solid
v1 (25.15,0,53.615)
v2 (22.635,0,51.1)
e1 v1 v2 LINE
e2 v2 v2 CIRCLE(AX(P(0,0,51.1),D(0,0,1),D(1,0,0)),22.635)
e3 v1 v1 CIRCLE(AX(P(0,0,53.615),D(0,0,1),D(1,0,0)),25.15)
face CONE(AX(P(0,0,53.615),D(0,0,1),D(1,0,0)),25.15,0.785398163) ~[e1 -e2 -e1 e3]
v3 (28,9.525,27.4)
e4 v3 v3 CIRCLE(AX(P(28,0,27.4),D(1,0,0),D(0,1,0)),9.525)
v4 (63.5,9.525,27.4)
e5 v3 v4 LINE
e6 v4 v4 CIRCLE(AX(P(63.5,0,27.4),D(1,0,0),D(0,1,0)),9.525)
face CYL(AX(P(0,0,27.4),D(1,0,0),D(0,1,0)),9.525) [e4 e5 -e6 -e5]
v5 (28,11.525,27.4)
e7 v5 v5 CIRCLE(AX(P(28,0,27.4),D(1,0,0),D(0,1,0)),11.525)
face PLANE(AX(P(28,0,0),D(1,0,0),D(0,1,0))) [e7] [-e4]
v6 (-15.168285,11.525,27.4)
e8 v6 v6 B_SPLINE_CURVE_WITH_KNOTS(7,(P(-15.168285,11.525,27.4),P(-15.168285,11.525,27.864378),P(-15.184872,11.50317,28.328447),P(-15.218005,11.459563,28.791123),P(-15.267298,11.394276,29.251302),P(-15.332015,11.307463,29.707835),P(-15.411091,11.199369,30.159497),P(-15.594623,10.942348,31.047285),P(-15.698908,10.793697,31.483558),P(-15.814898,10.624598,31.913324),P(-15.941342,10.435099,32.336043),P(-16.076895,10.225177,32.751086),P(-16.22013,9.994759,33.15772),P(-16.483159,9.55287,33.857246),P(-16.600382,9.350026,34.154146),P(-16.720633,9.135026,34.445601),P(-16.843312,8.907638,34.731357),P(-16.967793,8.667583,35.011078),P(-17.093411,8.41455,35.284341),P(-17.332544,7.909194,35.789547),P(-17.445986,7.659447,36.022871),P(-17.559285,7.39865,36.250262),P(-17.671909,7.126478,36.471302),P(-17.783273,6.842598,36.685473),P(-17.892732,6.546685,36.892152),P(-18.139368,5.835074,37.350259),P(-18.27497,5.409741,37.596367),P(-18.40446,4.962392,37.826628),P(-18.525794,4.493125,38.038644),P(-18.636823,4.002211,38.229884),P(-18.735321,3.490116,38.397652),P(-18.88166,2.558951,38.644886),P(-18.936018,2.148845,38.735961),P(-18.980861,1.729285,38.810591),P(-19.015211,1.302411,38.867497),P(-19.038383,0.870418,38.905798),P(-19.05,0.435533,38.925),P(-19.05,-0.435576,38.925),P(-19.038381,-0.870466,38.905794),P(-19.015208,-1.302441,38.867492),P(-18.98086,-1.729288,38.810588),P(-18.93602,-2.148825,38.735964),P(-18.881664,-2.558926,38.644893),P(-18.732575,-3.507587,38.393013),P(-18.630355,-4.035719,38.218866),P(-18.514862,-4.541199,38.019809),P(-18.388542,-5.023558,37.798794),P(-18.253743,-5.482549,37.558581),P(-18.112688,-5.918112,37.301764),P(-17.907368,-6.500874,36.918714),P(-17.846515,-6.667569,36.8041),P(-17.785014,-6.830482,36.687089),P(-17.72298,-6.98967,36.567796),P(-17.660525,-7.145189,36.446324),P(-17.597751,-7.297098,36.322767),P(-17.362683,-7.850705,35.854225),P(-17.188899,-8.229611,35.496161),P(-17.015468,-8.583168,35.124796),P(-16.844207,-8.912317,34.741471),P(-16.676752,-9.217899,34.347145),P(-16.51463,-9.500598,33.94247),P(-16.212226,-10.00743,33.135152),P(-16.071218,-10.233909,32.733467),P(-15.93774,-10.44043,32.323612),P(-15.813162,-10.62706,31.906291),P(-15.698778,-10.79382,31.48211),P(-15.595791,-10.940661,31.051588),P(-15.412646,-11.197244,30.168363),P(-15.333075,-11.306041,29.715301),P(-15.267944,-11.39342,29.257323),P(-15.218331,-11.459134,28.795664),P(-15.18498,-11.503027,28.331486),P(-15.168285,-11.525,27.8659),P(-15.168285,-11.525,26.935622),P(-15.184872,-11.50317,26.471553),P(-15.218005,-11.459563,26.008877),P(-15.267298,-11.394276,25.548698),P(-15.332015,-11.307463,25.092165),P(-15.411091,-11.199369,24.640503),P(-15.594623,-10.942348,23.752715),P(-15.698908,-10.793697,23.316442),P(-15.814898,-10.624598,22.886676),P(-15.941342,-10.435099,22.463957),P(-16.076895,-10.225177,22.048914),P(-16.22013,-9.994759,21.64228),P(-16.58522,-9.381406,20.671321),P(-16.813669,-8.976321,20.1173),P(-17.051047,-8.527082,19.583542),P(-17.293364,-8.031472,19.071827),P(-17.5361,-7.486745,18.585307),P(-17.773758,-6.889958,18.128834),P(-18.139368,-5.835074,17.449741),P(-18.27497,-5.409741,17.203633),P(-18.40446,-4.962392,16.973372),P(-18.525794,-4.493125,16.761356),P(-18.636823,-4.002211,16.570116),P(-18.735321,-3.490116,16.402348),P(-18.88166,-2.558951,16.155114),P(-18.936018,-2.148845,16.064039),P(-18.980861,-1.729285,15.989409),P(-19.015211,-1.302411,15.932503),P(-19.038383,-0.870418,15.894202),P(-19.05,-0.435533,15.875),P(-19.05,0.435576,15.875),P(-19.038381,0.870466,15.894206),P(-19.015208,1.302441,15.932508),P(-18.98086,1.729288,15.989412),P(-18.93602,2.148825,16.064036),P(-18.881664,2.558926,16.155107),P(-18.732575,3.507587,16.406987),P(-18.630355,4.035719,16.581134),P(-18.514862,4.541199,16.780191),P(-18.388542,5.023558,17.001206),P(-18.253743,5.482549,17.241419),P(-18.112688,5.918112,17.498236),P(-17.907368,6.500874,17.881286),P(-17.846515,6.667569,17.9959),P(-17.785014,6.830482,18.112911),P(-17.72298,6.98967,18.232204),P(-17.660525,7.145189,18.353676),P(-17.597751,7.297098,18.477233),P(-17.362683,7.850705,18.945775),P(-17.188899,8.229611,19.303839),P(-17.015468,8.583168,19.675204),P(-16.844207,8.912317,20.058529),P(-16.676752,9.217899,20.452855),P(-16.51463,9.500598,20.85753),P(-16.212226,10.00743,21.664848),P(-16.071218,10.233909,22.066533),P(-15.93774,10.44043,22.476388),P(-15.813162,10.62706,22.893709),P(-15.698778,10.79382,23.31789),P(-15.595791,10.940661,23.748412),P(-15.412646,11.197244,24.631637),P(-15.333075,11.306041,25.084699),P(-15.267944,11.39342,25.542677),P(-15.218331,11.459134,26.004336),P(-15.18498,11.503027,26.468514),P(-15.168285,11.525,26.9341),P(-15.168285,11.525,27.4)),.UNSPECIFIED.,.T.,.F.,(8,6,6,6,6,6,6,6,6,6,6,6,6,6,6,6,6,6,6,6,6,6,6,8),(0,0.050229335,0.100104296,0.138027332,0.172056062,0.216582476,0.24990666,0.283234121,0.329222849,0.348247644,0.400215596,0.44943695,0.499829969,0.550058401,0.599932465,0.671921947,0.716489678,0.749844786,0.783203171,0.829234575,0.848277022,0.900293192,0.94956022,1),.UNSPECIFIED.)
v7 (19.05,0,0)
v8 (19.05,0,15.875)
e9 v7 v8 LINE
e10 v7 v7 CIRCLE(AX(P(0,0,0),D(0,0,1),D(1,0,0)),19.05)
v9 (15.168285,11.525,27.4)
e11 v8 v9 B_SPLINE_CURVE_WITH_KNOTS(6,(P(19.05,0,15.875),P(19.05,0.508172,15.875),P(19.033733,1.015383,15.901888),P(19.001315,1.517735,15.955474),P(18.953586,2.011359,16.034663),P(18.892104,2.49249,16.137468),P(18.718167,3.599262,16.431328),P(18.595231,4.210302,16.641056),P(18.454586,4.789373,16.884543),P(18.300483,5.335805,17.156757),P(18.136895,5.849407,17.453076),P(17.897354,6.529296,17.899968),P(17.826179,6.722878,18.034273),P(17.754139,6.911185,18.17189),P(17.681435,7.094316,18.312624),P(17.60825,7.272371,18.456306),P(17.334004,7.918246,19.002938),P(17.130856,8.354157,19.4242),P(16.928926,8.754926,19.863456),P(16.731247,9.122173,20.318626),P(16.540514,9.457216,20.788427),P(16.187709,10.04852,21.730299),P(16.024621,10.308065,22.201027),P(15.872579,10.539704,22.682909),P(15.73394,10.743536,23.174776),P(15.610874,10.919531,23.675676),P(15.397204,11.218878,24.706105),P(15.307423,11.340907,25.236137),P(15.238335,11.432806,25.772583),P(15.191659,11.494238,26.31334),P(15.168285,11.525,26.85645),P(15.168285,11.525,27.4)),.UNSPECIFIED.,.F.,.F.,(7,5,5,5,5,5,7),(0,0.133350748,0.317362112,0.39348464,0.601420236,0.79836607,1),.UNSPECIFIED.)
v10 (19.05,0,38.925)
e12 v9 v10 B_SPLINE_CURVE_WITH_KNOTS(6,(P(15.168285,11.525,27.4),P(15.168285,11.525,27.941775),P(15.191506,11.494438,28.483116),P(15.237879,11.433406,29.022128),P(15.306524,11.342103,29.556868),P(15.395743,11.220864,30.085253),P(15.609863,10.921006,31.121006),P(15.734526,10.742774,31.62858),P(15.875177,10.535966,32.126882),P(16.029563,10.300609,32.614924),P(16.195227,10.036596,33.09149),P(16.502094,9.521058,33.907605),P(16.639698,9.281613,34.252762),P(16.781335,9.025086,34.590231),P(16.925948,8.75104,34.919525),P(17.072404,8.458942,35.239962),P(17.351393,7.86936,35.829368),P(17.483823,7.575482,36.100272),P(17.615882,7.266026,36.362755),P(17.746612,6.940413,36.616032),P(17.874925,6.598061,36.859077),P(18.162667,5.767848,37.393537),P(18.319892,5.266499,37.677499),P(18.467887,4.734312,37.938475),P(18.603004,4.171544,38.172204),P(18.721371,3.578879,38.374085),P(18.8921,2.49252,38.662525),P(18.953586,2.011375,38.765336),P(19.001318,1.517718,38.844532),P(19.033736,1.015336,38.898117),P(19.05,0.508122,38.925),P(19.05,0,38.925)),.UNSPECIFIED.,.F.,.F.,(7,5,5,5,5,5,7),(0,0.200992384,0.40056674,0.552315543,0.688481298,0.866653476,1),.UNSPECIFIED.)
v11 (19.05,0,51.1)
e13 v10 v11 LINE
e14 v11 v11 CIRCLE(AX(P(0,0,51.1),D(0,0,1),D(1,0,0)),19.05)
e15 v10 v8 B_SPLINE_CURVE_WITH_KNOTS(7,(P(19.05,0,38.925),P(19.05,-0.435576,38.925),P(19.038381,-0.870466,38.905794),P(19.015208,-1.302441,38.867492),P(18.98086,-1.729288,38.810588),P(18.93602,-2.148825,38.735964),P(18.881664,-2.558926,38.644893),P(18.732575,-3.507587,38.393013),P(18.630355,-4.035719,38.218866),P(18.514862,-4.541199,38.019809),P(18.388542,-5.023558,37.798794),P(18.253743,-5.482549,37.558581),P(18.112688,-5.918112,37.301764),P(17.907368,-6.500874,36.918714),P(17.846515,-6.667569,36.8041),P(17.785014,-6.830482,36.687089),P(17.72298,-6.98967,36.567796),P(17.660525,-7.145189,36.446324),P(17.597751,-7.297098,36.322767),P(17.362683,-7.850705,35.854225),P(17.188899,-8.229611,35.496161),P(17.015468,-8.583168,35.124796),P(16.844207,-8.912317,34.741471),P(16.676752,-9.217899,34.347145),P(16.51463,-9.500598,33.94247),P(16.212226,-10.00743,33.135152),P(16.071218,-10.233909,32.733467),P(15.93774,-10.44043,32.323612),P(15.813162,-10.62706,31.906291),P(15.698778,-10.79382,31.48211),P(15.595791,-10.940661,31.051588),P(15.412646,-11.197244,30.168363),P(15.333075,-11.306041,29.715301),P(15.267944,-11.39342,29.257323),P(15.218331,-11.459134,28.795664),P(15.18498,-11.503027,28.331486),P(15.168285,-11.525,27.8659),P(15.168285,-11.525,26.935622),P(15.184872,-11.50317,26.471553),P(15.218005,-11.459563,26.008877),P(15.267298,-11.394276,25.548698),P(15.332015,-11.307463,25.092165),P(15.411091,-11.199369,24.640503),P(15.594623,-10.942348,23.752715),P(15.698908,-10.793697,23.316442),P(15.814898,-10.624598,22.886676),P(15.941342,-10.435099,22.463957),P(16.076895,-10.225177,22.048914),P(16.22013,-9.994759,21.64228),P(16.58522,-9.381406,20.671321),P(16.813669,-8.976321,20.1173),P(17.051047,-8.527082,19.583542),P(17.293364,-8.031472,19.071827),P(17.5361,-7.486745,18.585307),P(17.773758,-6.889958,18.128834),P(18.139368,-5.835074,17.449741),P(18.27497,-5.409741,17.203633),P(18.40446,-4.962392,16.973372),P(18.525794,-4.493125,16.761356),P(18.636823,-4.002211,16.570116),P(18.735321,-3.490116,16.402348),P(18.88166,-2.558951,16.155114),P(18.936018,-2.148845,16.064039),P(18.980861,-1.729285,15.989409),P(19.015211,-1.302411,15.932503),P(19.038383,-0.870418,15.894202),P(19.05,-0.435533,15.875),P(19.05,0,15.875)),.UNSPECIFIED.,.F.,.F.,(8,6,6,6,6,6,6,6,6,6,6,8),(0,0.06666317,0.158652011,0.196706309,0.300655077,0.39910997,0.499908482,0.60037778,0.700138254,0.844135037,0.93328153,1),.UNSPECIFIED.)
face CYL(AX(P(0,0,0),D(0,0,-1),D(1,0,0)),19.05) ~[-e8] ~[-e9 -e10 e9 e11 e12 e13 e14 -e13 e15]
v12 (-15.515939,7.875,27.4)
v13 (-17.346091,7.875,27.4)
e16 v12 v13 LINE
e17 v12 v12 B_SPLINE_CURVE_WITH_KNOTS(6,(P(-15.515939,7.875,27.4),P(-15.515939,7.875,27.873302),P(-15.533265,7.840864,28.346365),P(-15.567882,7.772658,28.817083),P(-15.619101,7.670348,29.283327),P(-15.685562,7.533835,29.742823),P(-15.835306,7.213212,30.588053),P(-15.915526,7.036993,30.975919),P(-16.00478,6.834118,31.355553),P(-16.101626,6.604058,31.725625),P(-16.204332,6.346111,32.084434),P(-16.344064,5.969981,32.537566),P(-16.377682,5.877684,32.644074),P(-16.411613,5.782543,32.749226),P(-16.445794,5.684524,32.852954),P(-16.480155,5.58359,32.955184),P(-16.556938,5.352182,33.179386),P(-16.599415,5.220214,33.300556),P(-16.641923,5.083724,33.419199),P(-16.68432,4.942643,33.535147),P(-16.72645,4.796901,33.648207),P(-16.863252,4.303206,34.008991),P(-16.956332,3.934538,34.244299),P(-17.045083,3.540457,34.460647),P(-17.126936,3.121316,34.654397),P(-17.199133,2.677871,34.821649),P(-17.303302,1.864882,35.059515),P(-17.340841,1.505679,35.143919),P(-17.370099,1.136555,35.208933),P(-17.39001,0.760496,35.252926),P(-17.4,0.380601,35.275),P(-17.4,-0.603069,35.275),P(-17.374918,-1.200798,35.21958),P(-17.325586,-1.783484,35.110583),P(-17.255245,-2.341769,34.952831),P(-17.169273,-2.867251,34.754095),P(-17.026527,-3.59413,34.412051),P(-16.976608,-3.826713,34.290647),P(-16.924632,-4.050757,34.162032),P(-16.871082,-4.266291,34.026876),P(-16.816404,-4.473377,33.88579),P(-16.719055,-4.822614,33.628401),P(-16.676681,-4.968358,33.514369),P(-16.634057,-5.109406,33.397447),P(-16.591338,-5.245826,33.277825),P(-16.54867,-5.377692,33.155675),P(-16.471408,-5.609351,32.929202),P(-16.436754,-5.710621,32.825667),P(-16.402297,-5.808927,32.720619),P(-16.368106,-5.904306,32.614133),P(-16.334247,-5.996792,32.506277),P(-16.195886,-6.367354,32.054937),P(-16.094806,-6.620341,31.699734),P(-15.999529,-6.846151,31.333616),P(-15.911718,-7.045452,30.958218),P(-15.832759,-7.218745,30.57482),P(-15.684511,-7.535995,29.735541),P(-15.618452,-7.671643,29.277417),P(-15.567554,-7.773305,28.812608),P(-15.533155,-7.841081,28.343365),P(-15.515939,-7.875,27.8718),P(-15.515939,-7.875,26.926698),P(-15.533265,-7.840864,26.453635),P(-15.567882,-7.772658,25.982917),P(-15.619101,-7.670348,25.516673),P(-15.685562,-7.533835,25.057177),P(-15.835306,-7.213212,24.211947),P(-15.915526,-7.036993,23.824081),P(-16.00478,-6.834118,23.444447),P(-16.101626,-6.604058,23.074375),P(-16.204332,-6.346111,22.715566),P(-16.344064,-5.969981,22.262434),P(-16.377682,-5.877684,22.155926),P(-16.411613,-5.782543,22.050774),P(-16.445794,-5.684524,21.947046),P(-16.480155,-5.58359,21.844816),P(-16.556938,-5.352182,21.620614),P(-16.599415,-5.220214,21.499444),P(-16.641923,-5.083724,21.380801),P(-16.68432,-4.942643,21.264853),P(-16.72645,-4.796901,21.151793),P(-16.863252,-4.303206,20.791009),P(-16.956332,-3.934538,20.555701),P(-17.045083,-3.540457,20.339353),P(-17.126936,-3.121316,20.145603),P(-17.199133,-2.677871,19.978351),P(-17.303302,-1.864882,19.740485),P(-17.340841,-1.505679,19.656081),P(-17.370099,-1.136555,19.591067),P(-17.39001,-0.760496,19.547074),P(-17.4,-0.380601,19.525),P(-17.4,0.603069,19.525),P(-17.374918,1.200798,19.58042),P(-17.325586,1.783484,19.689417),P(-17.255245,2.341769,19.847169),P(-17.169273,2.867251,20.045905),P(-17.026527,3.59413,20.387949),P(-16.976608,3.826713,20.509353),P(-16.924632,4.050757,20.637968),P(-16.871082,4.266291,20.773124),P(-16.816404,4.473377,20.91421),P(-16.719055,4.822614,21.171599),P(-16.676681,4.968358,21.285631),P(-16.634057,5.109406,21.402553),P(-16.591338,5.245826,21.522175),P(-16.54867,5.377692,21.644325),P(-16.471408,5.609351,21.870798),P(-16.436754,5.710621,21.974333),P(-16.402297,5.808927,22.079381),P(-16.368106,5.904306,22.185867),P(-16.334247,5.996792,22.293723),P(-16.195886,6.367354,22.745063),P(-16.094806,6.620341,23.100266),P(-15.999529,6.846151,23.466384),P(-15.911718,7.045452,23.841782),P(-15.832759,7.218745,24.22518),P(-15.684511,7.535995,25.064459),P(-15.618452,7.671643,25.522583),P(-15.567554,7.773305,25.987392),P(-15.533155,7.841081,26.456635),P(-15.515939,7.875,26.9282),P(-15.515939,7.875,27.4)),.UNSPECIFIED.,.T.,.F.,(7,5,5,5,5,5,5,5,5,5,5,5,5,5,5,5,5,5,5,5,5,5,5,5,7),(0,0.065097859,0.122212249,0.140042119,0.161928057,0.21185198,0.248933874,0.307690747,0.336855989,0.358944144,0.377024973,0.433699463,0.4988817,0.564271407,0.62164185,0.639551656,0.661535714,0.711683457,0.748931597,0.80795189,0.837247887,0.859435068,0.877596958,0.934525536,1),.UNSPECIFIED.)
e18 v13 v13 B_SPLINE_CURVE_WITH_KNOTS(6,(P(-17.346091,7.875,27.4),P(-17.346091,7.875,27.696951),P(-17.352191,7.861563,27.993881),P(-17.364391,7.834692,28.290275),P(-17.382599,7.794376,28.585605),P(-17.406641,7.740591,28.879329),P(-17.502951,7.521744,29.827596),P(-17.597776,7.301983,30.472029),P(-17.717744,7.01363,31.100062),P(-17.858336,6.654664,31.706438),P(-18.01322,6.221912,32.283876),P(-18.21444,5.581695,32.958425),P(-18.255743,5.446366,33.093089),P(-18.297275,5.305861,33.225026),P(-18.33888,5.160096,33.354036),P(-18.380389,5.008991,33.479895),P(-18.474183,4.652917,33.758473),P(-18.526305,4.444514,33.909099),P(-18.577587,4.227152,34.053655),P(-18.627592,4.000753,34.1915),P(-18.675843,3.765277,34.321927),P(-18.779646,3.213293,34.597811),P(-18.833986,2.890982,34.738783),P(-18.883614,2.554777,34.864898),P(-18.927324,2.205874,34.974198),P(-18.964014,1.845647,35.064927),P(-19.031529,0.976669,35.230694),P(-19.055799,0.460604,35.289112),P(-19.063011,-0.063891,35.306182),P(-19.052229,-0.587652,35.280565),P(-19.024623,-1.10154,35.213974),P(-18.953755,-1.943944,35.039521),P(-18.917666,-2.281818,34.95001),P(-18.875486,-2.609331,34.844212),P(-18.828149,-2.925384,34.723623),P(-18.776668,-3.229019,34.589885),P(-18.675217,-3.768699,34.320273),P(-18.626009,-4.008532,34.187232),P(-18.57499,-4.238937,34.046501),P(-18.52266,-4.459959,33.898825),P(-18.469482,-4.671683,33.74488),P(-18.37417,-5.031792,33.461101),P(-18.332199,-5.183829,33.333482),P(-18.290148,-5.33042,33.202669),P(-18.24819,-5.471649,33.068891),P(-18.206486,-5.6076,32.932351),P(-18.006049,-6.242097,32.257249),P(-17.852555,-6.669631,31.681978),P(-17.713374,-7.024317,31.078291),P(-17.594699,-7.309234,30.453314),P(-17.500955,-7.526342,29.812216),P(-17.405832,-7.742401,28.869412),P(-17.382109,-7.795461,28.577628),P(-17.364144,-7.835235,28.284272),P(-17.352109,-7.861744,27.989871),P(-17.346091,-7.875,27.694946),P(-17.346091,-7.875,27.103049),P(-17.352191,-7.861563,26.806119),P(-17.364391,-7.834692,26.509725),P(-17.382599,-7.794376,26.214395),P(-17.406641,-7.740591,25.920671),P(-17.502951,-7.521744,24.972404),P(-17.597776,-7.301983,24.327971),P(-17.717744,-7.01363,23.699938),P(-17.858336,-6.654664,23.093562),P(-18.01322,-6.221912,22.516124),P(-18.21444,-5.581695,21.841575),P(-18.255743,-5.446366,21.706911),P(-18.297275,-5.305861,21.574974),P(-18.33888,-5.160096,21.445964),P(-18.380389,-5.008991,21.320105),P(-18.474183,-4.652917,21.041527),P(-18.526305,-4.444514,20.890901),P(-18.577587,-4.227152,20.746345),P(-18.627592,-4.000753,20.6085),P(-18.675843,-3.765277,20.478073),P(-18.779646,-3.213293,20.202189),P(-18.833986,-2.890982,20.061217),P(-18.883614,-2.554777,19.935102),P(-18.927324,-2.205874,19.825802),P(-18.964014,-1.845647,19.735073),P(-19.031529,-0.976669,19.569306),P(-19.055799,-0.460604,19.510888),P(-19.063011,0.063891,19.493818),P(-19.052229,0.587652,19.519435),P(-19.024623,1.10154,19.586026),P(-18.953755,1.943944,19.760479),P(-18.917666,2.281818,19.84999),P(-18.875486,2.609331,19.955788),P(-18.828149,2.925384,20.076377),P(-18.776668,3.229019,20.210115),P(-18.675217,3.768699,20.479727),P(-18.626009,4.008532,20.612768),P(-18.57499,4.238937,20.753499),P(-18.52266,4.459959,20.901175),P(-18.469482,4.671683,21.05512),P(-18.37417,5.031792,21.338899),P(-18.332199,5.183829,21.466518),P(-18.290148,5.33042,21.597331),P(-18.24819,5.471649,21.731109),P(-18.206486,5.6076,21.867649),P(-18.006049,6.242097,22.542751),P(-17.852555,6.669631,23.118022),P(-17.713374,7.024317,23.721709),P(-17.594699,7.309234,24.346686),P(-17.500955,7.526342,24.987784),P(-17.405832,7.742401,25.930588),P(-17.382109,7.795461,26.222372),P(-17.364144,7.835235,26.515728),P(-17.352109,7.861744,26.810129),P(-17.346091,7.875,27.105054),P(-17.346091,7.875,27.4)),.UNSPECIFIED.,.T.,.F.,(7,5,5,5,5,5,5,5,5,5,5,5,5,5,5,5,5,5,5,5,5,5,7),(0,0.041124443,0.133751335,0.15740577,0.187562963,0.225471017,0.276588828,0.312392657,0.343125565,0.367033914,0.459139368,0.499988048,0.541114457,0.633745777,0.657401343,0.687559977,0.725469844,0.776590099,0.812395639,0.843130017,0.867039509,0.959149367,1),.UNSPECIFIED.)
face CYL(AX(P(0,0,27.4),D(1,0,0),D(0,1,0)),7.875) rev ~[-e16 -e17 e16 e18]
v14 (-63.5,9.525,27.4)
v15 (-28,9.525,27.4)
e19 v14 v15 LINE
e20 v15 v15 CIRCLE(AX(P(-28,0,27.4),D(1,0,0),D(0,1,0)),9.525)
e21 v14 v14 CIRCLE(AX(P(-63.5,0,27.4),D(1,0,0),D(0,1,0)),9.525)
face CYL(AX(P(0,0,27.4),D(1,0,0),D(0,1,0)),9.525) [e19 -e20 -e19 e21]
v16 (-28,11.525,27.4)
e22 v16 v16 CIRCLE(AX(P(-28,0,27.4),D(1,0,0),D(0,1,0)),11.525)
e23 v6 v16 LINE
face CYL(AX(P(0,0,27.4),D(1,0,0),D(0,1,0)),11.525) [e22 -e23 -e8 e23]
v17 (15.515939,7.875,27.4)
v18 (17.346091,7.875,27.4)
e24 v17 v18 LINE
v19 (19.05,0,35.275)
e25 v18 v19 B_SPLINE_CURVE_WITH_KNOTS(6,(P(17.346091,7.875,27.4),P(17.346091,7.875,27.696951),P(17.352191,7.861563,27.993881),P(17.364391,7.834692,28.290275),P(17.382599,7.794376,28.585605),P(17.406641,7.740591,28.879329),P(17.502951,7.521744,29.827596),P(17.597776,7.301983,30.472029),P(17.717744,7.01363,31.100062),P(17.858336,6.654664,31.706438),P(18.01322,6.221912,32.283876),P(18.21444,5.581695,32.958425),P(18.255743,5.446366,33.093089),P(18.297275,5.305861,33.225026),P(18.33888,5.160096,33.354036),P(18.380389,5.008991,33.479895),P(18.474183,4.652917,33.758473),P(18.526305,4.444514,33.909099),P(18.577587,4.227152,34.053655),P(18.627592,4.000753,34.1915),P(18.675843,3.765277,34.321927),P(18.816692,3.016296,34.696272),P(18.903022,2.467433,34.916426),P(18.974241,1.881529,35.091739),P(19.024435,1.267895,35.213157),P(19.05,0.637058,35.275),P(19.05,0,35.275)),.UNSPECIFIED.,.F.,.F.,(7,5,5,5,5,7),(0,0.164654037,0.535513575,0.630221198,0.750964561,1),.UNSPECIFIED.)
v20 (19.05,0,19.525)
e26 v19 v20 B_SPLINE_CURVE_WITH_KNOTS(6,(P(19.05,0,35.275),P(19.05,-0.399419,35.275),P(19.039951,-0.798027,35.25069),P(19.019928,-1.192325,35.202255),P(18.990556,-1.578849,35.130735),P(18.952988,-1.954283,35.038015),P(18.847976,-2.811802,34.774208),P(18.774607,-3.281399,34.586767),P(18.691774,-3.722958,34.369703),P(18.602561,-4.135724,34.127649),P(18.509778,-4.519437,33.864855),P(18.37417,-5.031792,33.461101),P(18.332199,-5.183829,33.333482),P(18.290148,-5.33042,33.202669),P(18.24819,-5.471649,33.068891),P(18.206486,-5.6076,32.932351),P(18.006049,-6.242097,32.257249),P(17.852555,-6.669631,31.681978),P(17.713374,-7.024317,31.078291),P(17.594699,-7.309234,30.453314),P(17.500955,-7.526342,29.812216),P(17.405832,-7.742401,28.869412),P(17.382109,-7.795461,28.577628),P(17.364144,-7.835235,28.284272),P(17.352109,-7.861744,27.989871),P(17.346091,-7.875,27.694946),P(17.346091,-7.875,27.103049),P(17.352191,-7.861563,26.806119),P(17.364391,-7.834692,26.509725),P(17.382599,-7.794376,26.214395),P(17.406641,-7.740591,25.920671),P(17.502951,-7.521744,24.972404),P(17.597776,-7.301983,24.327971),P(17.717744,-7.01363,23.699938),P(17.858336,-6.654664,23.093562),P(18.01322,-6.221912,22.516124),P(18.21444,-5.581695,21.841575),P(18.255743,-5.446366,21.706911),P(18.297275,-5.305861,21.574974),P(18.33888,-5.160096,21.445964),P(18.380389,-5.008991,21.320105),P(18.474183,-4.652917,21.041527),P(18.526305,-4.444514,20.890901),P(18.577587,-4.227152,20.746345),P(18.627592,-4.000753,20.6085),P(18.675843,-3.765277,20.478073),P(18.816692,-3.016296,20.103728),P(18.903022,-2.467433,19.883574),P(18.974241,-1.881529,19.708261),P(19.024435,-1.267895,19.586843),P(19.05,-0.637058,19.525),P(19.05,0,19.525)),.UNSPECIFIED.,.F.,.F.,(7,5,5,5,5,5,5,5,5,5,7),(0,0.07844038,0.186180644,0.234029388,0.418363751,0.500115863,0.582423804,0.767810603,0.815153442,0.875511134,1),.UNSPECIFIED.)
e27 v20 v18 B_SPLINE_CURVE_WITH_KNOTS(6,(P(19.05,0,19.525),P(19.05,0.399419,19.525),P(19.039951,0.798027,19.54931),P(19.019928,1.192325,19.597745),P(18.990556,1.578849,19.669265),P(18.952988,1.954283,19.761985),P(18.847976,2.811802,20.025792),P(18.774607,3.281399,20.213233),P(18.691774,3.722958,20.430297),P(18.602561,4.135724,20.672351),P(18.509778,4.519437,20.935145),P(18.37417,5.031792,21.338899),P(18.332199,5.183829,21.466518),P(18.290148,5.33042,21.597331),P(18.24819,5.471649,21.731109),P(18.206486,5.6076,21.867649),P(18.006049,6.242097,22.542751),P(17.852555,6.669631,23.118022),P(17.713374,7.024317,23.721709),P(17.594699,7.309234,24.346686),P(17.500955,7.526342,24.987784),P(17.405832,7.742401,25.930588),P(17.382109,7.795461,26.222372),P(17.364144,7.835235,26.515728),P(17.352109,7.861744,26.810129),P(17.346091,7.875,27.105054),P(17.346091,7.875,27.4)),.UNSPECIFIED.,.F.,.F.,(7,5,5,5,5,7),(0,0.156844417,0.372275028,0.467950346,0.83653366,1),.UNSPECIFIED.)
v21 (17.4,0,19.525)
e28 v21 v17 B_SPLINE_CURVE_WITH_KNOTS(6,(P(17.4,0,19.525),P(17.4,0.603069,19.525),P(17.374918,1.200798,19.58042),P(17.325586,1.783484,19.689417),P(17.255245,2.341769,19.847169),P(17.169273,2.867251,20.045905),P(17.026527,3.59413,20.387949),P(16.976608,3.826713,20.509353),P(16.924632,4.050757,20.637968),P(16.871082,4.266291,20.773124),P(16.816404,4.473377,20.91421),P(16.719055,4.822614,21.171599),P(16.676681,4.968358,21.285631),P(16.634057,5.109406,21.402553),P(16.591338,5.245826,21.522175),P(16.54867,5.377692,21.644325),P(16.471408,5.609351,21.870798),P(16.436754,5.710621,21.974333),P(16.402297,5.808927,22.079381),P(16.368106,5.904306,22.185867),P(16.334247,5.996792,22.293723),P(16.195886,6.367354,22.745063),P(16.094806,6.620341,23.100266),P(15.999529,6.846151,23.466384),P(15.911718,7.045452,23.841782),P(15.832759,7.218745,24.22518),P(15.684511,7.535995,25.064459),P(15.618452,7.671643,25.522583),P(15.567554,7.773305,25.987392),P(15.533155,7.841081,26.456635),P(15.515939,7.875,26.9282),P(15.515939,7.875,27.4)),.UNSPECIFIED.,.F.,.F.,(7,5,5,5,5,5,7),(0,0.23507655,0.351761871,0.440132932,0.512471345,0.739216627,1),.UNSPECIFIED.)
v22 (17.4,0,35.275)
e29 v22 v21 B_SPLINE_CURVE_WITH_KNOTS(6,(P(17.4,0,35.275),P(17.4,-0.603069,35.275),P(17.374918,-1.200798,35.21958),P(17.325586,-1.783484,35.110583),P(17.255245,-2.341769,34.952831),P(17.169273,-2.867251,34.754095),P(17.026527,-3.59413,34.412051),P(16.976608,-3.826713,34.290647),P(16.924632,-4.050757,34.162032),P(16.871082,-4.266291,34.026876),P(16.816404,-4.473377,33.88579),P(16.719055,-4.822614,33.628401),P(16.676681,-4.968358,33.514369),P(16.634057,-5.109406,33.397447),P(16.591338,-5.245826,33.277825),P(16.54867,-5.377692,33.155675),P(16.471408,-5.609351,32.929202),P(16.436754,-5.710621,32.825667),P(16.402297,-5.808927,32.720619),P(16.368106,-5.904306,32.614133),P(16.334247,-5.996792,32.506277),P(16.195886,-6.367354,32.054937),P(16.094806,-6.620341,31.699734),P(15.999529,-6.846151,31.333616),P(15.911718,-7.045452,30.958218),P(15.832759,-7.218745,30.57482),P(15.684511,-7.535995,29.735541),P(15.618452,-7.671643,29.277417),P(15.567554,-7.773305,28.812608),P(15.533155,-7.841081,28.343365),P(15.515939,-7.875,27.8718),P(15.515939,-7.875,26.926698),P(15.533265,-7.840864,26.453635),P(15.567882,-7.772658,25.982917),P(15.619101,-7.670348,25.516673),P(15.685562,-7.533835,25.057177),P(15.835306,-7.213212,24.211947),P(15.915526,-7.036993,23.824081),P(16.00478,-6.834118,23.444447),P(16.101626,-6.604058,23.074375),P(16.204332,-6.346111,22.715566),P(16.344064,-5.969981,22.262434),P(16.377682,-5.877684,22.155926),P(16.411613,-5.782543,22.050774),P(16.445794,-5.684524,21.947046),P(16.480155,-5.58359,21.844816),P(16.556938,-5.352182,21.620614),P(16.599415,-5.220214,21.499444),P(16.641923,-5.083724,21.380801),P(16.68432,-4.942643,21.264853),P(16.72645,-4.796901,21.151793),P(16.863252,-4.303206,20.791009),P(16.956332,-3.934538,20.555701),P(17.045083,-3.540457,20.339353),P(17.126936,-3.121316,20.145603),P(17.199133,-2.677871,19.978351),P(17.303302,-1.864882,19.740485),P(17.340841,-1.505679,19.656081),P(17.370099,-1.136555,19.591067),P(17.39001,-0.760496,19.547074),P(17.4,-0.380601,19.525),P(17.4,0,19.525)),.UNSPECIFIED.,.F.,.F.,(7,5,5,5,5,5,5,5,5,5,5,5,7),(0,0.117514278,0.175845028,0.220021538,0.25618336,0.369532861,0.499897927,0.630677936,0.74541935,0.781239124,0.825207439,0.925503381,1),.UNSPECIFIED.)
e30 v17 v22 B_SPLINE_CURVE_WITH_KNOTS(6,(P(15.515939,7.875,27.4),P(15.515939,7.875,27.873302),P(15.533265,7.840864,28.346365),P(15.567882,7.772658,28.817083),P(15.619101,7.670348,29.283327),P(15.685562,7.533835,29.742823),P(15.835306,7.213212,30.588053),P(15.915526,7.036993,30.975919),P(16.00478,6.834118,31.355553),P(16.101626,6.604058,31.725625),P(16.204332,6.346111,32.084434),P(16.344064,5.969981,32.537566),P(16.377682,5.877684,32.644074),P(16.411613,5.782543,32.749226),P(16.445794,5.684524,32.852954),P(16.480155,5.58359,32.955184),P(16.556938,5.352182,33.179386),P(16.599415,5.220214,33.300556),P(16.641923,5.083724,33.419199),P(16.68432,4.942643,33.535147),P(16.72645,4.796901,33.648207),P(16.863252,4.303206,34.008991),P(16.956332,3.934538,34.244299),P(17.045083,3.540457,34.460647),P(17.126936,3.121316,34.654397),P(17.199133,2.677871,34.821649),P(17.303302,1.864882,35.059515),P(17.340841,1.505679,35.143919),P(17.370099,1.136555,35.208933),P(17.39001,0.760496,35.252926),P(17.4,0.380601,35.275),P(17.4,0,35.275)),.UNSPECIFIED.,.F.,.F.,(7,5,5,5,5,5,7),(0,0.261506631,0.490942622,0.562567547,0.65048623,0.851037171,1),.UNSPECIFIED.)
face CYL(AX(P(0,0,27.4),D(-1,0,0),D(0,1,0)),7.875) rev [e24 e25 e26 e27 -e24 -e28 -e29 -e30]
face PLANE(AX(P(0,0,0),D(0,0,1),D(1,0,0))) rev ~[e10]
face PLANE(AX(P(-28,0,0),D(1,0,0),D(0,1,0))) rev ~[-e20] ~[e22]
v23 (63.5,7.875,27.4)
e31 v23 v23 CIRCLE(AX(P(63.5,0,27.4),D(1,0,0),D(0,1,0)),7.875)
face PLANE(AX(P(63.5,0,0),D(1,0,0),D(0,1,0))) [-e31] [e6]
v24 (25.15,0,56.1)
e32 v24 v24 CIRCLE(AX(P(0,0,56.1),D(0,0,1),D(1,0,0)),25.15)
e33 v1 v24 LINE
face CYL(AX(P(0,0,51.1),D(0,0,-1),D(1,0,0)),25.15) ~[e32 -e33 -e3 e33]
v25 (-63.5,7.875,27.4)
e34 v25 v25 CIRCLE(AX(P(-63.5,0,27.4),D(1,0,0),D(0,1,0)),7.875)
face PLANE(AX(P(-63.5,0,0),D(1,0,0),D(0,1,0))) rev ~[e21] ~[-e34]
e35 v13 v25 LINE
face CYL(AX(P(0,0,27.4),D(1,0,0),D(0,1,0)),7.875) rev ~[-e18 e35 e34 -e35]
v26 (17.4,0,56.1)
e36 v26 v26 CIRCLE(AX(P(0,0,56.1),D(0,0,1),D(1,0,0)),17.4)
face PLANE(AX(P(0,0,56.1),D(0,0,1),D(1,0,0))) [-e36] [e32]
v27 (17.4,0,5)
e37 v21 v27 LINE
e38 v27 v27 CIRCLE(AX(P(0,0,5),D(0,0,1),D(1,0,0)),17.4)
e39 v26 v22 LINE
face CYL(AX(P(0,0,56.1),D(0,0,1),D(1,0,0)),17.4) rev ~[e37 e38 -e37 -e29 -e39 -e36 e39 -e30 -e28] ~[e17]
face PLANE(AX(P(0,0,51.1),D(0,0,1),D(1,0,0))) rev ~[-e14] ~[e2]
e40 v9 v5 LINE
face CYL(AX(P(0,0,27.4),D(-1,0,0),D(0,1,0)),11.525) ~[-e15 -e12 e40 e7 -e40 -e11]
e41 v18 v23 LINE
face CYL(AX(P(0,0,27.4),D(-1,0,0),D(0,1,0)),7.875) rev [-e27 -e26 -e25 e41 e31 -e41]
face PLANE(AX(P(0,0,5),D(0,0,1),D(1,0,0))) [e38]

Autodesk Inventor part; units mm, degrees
ref_plane "YZ Plane" through (0, 0, 0) normal (1, 0, 0) x (0, 1, 0)
ref_plane "XZ Plane" through (0, 0, 0) normal (0, 1, 0) x (-1, 0, 0)
ref_plane "XY Plane" through (0, 0, 0) normal (0, 0, 1) x (1, 0, 0)
sketch "Sketch1" plane through (0, 0, 0) normal (0, 0, 1) x (1, 0, 0)
  circle A0 centre (0, 0) radius 19.05
  dimension "d0" = 38.1
extrude "Extrusion1" add sketch "Sketch1" along normal blind 51.1
sketch "Sketch6" plane through (0, 0, 0) normal (1, 0, 0) x (0, 1, 0)
  line L0 (0, 0) -> (0, 27.4) construction
  circle A0 centre (0, 27.4) radius 9.525
  circle A1 centre (0, 27.4) radius 7.875
  dimension "d22" = 27.4
  dimension "d23" = 19.05
  dimension "d24" = 15.75
extrude "Extrusion6" add sketch "Sketch6" against normal mid plane 127
sketch "Sketch7" plane through (0, 0, 0) normal (1, 0, 0) x (0, 1, 0)
  circle A0 centre (0, 27.4) radius 11.525
  circle A1 centre (0, 27.4) radius 9.525 projected
  dimension "d67" = 2
extrude "Extrusion7" add sketch "Sketch7" along normal mid plane 56
sketch "Sketch13" plane through (0, 0, 51.1) normal (0, 0, 1) x (1, 0, 0)
  circle A0 centre (0, 0) radius 25.15
  circle A1 centre (0, 0) radius 19.05 construction
  dimension "d60" = 50.3
extrude "Extrusion12" add sketch "Sketch13" along normal blind 5
chamfer "Chamfer1" distance 2.515 angle 45 1 edges at (-25.15, 0, 51.1)
sketch "Sketch14" plane through (0, 0, 56.1) normal (0, 0, 1) x (1, 0, 0)
  circle A0 centre (0, 0) radius 17.4
  circle A1 centre (0, 0) radius 19.05 construction
  dimension "d68" = 1.65
extrude "Extrusion13" cut sketch "Sketch14" against normal blind 51.1
sketch "Sketch15" plane through (0, 0, 0) normal (1, 0, 0) x (0, 1, 0)
  circle A0 centre (0, 27.4) radius 7.875 projected
extrude "Extrusion14" cut sketch "Sketch15" along normal through all both and the other way through all
equation "\"d25\" = 2 * d21"
equation "\"d64\" = 0.05 * d60"
equation "\"d69\" = d1"
equation "\"d21\" = 63.5"
equation "\"d1\" = 51.1"
properties part number "3/4\" DT28" material "Stainless Steel, 316L"
